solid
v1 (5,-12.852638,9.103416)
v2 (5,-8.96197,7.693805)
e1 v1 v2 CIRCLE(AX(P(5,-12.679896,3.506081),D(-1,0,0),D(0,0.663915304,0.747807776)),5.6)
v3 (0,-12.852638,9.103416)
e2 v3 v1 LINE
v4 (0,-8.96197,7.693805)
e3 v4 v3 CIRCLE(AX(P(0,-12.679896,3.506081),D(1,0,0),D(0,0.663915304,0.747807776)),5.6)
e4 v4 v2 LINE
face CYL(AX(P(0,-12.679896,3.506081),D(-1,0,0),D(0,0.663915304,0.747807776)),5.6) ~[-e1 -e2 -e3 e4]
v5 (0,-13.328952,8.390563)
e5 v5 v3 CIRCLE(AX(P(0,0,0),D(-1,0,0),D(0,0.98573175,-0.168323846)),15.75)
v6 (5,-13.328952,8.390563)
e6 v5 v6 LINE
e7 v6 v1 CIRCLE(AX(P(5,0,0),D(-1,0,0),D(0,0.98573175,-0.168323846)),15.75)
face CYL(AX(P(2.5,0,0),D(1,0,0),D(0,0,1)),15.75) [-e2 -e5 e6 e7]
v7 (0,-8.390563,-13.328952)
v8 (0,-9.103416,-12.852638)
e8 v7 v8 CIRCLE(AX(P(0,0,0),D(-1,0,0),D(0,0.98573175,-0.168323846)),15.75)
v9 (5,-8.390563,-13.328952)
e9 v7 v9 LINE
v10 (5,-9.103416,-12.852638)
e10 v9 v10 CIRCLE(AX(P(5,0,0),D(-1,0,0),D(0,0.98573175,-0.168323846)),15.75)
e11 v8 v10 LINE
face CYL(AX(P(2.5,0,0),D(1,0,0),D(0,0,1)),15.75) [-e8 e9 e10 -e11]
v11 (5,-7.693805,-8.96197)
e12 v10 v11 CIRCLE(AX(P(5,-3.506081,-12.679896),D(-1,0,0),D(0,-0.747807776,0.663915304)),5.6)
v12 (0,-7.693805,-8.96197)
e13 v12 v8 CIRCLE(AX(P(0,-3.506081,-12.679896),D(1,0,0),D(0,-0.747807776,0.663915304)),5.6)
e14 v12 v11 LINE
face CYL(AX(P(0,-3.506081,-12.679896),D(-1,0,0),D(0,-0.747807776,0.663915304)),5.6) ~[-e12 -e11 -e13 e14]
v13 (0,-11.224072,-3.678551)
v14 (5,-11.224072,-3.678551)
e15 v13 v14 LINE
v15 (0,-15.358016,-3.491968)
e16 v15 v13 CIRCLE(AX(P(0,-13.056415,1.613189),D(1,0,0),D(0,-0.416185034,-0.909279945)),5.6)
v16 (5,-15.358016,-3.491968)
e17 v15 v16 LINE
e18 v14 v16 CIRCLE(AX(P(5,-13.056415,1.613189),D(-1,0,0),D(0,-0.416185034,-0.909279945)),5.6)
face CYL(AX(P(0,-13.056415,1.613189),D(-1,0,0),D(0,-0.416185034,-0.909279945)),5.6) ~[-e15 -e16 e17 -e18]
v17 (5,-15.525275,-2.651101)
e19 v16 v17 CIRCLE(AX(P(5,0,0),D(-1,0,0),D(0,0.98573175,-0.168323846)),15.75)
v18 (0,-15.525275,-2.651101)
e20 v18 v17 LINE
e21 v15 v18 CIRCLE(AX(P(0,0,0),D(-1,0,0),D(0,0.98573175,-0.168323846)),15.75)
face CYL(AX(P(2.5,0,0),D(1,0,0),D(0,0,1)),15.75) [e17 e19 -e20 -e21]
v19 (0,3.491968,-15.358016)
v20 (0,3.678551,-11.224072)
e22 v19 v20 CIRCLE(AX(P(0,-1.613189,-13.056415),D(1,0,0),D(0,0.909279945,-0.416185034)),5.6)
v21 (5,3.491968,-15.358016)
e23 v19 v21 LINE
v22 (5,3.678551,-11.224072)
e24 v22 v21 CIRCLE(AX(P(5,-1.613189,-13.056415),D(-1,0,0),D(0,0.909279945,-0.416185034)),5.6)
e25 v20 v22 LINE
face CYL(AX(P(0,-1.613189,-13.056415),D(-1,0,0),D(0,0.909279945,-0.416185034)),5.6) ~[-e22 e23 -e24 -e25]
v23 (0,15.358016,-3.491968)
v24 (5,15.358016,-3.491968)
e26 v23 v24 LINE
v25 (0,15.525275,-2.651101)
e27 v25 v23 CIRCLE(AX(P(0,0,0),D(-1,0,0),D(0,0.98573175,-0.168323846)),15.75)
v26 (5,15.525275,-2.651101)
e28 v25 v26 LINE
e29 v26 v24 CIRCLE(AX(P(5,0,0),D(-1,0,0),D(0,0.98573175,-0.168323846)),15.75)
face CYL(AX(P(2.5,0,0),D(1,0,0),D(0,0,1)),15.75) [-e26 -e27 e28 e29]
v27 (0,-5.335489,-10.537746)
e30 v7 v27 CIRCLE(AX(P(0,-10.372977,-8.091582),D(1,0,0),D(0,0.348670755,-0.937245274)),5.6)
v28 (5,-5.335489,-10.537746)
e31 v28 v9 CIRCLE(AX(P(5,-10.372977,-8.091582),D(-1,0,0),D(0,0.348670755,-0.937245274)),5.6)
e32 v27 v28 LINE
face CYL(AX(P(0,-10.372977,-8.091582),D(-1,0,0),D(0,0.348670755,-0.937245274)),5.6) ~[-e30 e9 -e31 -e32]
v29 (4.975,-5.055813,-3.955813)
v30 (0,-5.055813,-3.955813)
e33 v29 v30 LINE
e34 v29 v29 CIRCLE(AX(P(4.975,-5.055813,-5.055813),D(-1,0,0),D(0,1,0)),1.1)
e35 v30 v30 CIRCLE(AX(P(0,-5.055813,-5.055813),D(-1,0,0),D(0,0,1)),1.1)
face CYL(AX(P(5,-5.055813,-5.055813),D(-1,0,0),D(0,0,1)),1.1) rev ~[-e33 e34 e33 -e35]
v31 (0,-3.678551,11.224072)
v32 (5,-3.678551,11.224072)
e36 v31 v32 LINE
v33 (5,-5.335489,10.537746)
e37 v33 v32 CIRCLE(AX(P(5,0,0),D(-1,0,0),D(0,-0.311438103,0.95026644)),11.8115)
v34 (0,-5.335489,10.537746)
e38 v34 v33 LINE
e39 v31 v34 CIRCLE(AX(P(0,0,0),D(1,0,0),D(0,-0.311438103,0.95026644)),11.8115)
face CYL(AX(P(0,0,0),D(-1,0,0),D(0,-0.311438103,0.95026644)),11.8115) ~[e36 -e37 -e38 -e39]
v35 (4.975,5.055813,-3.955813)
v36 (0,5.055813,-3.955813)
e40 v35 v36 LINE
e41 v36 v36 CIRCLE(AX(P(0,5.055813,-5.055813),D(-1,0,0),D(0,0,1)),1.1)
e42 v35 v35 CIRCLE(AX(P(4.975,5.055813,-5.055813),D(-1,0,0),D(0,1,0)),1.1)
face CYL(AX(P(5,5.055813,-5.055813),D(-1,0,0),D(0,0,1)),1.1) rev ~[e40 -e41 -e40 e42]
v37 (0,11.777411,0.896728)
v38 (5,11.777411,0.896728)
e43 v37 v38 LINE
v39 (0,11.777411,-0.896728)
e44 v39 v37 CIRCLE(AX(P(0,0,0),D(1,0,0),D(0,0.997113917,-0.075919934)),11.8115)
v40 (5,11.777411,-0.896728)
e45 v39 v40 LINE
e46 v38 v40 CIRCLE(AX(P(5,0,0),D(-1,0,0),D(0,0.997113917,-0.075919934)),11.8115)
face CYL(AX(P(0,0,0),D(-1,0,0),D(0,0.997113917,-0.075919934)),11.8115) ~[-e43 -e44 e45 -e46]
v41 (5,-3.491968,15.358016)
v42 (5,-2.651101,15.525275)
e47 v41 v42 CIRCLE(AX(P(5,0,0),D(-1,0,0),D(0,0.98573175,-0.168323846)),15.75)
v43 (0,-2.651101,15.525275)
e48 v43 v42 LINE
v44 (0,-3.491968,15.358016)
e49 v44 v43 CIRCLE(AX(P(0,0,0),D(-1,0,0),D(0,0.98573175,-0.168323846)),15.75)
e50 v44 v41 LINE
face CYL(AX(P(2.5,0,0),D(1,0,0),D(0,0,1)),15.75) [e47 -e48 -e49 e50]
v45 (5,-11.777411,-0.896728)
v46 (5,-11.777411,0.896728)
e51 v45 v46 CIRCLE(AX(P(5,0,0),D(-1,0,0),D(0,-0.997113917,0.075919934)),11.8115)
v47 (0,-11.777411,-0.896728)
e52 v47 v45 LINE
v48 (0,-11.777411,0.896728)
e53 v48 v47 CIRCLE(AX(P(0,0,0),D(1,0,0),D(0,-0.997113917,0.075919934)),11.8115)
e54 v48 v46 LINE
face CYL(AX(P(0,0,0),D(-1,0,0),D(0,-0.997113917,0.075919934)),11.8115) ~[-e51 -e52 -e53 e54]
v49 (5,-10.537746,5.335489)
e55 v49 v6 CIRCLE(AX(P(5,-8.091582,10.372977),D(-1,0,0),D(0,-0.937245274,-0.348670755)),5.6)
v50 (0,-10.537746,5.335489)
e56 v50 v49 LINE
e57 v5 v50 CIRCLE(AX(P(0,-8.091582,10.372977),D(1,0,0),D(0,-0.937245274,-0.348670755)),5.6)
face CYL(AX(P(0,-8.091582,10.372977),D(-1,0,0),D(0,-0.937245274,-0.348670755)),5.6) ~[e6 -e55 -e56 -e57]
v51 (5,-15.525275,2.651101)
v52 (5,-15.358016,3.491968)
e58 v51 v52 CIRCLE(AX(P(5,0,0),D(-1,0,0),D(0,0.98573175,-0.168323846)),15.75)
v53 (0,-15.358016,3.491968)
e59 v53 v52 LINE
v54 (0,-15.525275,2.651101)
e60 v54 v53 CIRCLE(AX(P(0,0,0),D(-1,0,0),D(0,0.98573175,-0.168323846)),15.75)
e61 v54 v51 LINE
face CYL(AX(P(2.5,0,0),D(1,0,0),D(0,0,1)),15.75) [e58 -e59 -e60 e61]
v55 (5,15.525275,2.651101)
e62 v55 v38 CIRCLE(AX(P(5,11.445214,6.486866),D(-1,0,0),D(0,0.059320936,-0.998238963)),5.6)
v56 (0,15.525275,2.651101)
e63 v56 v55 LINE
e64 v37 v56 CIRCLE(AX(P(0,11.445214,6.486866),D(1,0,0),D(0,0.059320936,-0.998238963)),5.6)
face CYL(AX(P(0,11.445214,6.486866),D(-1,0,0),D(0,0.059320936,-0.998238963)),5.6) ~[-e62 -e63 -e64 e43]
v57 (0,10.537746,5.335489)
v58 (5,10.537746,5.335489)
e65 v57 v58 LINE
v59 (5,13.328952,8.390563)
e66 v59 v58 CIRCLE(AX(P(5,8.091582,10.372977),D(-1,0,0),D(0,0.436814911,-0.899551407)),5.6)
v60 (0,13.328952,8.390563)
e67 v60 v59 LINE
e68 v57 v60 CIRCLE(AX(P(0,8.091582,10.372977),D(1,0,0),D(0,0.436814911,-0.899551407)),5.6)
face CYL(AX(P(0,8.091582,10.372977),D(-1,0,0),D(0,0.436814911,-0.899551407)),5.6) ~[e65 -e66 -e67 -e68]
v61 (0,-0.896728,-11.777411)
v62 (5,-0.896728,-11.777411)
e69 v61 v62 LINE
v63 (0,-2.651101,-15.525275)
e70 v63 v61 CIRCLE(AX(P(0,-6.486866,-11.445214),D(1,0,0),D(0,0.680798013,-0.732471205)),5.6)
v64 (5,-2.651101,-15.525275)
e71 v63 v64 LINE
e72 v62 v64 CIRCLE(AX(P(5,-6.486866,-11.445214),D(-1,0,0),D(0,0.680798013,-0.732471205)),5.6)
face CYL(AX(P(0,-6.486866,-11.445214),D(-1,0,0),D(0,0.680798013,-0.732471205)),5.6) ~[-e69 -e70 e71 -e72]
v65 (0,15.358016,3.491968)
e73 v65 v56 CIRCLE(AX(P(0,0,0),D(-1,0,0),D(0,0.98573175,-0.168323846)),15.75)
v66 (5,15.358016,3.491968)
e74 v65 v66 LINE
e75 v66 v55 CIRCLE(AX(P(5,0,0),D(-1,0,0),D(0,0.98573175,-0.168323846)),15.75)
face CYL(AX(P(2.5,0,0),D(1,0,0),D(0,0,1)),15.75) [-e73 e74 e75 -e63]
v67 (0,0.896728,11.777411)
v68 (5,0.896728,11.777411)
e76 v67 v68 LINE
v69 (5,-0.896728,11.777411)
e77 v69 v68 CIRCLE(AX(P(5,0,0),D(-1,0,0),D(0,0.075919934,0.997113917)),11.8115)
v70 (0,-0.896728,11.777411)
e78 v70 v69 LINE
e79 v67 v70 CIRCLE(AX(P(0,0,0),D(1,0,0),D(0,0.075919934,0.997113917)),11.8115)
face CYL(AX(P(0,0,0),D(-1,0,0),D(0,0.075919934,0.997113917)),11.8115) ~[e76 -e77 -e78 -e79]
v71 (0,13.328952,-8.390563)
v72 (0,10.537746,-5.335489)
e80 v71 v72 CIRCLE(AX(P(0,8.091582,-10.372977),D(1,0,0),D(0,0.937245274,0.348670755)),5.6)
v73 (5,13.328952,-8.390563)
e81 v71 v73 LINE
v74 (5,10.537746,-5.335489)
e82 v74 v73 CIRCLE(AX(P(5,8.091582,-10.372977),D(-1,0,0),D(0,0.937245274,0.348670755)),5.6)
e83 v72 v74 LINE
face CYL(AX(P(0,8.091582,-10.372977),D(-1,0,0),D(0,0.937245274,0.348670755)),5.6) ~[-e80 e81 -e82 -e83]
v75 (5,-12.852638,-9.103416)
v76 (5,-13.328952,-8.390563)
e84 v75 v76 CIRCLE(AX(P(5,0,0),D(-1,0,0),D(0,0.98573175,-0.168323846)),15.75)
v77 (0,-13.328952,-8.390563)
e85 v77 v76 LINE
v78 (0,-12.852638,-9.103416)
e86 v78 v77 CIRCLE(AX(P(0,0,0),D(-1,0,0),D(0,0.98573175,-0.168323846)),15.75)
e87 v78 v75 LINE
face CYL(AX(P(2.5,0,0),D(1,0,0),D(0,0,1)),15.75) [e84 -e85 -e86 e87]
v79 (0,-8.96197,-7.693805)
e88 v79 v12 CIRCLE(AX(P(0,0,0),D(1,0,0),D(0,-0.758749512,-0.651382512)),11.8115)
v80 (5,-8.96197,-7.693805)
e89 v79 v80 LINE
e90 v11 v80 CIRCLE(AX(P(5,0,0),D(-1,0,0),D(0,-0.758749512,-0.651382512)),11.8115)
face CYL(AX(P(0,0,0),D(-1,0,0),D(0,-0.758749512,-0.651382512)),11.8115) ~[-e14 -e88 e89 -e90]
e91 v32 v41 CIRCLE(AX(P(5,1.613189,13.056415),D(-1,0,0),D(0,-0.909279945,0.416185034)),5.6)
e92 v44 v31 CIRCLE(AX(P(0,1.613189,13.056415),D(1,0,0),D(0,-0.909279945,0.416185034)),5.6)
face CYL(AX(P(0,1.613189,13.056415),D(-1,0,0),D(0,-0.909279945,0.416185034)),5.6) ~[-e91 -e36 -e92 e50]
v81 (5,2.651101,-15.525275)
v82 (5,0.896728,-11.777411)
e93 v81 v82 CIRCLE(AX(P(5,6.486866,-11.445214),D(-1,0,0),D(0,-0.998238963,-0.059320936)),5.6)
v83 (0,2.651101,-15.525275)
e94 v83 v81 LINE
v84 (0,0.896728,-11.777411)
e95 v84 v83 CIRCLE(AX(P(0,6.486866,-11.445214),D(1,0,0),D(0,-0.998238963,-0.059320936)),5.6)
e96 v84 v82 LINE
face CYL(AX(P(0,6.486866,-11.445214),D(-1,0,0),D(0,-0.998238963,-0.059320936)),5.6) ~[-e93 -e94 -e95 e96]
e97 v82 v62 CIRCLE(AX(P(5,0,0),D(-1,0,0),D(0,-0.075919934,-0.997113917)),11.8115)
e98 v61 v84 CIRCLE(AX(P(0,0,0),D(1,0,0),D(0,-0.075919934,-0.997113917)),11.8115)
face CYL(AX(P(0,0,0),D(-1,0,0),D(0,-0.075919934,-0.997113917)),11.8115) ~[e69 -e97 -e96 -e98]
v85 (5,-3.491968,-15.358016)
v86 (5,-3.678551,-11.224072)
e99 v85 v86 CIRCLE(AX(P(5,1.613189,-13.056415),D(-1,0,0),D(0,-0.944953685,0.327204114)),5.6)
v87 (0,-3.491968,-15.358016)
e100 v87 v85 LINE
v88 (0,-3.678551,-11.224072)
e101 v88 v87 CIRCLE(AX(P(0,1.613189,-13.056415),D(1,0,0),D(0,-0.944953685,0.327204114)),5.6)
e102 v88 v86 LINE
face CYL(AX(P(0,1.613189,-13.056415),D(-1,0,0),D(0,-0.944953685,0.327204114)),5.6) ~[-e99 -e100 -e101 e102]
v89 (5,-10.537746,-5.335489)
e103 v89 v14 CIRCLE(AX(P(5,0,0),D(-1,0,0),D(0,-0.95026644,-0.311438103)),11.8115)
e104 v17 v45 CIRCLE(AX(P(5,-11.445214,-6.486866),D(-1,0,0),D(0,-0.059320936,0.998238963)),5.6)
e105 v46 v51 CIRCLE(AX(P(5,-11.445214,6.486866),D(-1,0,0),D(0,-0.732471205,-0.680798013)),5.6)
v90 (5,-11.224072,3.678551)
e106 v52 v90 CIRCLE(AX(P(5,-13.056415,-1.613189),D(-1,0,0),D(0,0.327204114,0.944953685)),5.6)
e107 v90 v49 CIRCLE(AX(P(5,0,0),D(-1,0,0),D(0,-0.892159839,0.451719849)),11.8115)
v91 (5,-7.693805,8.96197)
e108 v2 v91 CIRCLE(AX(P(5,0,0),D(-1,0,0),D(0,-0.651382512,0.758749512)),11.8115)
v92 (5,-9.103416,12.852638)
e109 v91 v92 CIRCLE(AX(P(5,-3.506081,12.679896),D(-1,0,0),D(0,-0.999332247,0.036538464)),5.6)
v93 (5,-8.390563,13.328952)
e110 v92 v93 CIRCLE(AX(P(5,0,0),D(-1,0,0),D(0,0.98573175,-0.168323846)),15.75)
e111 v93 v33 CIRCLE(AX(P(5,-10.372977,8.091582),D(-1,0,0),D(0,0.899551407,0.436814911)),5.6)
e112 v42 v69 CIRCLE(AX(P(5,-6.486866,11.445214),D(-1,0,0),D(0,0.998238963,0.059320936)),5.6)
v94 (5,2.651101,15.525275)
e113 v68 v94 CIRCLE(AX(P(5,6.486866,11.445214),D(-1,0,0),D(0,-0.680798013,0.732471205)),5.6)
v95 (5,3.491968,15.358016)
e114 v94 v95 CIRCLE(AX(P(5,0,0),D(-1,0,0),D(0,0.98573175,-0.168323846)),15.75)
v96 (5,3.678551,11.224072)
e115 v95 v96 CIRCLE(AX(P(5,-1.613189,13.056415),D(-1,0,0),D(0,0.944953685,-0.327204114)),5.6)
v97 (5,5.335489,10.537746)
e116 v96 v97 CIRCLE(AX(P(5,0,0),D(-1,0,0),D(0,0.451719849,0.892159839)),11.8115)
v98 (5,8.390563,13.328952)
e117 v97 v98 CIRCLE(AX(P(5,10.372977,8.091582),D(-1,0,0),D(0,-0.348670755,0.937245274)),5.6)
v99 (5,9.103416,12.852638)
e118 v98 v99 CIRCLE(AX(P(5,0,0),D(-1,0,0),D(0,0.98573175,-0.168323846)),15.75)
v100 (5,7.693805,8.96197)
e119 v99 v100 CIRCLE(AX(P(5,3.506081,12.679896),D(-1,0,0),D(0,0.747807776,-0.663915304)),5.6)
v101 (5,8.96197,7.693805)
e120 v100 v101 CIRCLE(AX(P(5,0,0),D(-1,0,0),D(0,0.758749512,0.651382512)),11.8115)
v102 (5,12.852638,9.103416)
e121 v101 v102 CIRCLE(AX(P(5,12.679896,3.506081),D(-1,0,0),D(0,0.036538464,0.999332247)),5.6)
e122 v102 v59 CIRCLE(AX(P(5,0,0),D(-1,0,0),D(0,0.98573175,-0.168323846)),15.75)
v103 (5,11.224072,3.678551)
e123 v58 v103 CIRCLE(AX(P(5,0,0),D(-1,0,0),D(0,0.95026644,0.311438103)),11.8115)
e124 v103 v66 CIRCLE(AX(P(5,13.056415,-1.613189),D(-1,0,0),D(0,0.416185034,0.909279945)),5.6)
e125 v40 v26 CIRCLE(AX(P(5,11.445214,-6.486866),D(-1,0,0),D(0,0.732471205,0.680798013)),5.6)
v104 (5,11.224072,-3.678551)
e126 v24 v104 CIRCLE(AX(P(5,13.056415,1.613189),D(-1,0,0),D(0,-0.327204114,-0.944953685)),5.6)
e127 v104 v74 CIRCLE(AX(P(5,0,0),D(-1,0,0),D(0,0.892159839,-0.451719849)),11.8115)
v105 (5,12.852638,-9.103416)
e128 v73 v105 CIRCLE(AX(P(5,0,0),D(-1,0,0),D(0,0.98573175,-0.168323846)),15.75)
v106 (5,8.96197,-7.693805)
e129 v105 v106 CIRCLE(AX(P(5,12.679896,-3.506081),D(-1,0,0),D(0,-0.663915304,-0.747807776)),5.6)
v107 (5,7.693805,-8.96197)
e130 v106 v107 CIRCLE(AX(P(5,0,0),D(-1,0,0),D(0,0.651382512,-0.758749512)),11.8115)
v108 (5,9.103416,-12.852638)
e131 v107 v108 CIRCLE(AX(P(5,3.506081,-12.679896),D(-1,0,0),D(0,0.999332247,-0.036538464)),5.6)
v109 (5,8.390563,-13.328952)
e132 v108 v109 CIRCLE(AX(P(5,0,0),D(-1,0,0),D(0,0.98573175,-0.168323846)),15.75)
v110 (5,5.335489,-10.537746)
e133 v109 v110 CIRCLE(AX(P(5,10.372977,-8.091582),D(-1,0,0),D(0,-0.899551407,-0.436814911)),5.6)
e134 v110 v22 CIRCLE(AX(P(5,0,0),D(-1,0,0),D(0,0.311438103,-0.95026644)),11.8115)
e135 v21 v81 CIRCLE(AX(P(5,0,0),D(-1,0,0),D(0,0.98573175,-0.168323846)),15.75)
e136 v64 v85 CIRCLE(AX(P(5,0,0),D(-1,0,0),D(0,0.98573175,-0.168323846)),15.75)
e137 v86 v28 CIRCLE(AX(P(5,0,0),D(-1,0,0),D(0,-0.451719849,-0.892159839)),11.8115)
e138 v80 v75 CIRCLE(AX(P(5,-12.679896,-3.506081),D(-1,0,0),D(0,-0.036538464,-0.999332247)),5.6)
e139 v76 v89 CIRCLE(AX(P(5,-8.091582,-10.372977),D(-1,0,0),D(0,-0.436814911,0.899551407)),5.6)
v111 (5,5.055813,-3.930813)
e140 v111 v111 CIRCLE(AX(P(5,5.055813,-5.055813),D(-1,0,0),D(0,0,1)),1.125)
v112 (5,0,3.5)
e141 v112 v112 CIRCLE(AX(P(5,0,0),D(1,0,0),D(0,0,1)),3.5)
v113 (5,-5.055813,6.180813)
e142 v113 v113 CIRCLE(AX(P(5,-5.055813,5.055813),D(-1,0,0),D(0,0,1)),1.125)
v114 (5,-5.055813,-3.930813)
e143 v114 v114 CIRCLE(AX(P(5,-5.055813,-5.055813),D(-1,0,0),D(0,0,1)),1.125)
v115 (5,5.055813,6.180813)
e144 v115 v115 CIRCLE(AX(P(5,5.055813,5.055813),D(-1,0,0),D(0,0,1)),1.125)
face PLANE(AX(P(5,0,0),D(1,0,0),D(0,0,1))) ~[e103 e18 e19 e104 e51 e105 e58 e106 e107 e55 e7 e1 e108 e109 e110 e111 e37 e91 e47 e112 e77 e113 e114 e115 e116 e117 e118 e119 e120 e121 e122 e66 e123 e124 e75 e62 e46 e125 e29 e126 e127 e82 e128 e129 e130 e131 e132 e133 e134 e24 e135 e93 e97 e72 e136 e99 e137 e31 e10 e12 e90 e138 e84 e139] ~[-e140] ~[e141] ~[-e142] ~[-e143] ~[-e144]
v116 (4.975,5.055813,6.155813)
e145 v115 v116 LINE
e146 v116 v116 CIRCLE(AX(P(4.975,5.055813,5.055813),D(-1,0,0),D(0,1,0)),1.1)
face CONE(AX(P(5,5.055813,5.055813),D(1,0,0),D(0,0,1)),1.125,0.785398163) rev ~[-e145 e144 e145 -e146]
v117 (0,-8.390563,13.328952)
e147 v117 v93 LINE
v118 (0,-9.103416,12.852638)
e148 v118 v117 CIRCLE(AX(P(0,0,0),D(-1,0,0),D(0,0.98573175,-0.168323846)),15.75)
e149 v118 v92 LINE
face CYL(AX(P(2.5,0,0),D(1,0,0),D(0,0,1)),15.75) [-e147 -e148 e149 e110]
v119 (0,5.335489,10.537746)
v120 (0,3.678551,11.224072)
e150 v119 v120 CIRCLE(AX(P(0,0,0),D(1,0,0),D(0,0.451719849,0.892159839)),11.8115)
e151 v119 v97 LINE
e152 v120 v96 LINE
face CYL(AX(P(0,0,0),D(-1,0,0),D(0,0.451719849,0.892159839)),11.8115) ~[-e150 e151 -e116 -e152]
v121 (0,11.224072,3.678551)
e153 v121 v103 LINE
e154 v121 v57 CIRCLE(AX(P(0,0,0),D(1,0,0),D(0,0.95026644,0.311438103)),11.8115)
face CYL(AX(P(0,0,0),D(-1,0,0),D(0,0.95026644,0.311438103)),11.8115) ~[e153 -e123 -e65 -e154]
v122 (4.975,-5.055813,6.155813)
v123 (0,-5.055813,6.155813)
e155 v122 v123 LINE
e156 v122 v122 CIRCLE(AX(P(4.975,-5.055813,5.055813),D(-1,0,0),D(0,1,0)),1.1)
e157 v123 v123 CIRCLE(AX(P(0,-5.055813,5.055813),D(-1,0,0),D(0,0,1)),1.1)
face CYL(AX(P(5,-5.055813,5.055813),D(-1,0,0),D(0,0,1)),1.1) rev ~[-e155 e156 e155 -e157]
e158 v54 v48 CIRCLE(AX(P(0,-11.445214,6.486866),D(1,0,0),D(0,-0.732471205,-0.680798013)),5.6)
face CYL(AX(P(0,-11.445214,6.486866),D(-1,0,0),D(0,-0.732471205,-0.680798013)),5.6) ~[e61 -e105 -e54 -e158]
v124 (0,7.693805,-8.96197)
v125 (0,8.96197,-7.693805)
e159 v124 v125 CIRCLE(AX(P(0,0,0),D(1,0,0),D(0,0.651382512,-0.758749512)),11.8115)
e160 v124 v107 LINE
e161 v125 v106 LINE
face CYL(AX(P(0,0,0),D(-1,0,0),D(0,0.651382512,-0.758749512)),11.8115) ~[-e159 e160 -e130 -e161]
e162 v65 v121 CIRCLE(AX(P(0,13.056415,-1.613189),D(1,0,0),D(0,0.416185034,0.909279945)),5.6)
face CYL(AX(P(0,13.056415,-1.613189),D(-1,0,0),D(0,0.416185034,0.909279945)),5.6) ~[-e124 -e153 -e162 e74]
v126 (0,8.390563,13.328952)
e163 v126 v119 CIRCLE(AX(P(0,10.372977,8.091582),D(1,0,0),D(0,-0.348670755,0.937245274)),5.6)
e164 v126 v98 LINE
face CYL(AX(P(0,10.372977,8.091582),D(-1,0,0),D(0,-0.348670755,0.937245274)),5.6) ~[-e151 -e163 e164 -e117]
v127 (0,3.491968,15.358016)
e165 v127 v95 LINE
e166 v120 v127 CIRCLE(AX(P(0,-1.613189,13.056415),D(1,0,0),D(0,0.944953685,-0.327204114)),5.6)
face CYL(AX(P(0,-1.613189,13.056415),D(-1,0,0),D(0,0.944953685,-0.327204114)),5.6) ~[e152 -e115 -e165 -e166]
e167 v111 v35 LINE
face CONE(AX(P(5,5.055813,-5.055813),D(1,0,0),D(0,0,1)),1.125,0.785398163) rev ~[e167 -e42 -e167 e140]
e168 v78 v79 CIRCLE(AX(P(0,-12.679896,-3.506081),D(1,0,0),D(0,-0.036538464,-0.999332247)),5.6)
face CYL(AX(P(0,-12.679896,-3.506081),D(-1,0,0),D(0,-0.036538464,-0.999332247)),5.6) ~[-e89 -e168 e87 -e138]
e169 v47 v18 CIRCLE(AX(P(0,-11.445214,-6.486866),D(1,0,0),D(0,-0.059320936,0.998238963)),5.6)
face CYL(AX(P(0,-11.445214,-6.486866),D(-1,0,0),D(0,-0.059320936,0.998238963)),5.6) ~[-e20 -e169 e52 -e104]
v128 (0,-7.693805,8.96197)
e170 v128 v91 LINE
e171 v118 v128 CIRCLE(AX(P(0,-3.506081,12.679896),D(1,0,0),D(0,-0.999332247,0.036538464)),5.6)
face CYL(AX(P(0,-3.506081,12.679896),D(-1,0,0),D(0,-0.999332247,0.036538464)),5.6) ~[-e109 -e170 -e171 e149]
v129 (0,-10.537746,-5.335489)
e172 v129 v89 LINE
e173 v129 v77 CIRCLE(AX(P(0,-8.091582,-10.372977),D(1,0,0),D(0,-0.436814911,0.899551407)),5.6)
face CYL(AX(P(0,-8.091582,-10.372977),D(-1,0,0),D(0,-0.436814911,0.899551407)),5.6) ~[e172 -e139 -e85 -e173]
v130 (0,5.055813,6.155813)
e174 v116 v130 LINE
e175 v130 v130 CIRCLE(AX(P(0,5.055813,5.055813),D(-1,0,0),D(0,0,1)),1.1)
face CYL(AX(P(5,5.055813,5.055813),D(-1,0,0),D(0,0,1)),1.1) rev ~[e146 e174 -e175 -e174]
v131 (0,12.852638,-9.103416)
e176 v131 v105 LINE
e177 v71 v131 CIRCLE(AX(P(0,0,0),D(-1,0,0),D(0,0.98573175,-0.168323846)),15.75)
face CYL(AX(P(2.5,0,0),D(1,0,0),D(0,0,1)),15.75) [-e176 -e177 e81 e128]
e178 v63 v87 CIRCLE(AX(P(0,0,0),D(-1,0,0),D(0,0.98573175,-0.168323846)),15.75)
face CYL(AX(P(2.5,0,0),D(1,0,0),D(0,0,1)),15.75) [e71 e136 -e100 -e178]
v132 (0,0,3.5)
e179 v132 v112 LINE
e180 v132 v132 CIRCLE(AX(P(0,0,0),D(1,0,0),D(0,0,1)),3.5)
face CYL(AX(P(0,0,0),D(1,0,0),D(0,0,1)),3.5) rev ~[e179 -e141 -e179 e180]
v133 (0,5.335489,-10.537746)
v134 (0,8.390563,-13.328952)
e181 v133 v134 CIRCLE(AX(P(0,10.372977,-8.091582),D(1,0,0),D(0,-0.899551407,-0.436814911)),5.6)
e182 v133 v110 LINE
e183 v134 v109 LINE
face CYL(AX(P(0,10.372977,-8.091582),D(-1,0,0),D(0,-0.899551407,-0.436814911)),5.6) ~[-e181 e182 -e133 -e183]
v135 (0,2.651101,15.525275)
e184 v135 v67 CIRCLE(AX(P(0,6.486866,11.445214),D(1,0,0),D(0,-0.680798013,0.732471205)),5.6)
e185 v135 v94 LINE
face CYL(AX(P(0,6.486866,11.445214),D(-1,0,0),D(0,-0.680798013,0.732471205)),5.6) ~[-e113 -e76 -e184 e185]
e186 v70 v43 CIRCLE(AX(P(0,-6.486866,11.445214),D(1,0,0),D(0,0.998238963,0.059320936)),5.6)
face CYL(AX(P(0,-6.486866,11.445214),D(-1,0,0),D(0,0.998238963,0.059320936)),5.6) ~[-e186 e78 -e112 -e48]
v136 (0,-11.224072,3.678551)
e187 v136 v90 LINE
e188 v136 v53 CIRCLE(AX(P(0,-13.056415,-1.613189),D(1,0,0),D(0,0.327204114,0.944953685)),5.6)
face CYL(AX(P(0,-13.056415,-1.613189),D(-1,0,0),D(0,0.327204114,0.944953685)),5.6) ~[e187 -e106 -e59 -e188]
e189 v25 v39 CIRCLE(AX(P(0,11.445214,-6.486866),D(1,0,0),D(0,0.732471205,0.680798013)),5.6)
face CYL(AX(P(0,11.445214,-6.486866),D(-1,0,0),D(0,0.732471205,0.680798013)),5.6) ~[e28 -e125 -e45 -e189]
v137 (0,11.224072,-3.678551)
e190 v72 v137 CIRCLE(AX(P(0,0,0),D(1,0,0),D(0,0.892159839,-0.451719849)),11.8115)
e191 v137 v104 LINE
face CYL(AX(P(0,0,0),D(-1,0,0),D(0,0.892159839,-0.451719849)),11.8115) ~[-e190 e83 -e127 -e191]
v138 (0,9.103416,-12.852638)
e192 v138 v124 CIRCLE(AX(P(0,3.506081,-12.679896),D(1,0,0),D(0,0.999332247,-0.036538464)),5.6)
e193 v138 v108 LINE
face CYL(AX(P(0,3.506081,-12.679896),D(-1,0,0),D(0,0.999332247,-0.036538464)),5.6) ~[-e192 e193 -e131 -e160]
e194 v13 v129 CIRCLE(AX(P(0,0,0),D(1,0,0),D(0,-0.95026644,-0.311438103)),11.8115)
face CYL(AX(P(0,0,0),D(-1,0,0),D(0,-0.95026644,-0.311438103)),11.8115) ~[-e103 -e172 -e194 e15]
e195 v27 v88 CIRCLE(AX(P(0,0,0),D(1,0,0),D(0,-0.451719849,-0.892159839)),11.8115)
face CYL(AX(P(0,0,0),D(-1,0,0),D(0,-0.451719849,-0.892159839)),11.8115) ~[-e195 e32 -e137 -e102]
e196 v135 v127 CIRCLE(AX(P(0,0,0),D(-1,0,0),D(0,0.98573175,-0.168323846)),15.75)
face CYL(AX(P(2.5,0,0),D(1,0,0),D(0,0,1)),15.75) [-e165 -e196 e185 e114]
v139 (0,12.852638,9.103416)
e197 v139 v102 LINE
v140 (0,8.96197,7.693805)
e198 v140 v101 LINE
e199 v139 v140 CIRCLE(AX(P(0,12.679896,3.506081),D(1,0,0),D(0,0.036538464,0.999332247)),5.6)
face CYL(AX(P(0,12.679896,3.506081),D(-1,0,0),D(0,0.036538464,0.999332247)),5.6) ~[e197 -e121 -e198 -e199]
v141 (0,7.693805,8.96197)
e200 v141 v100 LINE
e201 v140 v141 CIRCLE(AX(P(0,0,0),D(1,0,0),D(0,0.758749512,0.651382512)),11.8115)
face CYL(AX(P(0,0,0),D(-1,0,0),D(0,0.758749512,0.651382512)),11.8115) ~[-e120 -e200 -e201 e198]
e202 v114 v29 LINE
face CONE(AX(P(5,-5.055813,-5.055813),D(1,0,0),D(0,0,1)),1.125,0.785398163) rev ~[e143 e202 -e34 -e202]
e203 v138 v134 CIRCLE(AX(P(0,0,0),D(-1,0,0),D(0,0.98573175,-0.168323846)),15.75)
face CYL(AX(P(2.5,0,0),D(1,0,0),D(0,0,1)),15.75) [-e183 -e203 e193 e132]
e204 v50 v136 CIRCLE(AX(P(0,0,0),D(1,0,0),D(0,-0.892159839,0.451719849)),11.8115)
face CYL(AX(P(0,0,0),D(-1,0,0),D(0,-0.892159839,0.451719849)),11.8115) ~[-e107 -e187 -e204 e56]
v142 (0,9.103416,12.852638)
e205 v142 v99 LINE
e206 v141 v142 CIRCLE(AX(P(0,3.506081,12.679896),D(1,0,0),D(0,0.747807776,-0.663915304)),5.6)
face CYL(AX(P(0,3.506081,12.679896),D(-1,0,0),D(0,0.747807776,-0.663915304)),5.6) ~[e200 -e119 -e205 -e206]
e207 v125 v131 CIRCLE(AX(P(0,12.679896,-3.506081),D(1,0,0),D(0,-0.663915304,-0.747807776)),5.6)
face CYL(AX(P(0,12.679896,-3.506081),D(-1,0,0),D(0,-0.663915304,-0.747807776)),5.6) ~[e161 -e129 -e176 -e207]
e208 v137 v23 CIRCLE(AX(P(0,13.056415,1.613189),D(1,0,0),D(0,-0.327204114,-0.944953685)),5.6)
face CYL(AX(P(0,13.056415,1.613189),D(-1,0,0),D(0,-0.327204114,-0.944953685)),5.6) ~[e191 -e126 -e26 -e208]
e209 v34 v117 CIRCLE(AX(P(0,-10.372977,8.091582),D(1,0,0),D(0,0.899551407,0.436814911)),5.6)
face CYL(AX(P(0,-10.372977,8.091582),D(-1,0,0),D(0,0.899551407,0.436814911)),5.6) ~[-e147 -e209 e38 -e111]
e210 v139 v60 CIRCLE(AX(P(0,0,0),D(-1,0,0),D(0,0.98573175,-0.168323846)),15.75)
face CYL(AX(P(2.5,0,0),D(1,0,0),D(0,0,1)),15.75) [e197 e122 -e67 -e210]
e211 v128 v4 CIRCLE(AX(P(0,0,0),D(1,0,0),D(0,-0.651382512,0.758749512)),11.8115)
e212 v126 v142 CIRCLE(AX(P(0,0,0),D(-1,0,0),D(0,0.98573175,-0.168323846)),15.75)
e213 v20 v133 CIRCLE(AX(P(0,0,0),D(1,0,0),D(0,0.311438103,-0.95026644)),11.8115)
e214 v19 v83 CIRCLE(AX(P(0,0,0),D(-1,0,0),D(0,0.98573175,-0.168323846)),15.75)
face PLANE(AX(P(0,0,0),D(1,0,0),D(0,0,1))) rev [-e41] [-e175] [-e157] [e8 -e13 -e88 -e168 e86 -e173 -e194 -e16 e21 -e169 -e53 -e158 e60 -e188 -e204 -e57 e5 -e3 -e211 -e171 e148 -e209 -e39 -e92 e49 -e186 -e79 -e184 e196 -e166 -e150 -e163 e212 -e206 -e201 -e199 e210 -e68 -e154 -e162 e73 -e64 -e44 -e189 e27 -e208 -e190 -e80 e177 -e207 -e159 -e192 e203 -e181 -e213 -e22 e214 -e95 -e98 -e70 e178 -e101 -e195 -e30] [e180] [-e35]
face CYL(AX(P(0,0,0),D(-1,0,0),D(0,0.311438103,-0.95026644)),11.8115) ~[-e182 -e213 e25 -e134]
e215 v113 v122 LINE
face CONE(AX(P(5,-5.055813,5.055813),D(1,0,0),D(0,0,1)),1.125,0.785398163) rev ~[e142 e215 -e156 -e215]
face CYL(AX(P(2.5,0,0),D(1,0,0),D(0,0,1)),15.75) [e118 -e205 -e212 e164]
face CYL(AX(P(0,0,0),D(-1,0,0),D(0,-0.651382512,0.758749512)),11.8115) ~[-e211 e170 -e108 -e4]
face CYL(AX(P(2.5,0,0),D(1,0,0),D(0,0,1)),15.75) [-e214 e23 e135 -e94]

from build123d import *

# Parameters (mm, degrees)
BASPROSKE_W                    = 5
BASPROSKE_H                    = 15.75
TOOTHCUT_DEPTH                 = 23.828162432
TEETHCUTS_COUNT                = 16
TEETHCUTS_ANGLE                = 337.5
BORSKE_R                       = 3.5
BORE_DEPTH                     = 50.0000508
M2_CLEARANCE_HOLE1_D           = 2.2
M2_CLEARANCE_HOLE1_CSINK_D     = 2.25
M2_CLEARANCE_HOLE1_CSINK_ANGLE = 90


with BuildPart() as part:
    # BasProSke → Base-Revolve (revolve)
    with BuildSketch(Plane(origin=(0, 0, 0), x_dir=(1, 0, 0), z_dir=(0, 1, 0)), mode=Mode.PRIVATE) as base_revolve_sk:
        with Locations((2.5, 7.875)):
            Rectangle(BASPROSKE_W, BASPROSKE_H)
    revolve(base_revolve_sk.sketch.rotate(Axis((-10, 0, 0), (1, 0, 0)), 180), axis=Axis((-10, 0, 0), (1, 0, 0)))

    # TooCutSke → ToothCut (cut, through all)
    with BuildSketch(Plane(origin=(0, 0, 0), x_dir=(0, 0, -1), z_dir=(1, 0, 0))):
        with BuildLine():
            ThreePointArc((0.896728289, 11.777411032), (0, 11.8115), (-0.896728289, 11.777411032))
            ThreePointArc((-0.896728289, 11.777411032), (-1.421809307, 13.833768969), (-2.674397607, 15.547052537))
            ThreePointArc((-2.674397607, 15.547052537), (0, 15.7754), (2.674397607, 15.547052537))
            ThreePointArc((2.674397607, 15.547052537), (1.421809307, 13.833768969), (0.896728289, 11.777411032))
        make_face()
    toothcut = extrude(amount=TOOTHCUT_DEPTH, mode=Mode.SUBTRACT)

    # TeethCuts: ToothCut ×16 about axis
    teethcuts_axis = Axis((-10, 0, 0), (1, 0, 0))
    for i in range(1, TEETHCUTS_COUNT):
        add(toothcut.rotate(teethcuts_axis, i * TEETHCUTS_ANGLE / (TEETHCUTS_COUNT - 1)), mode=Mode.SUBTRACT)

    # BorSke → Bore (cut, symmetric)
    with BuildSketch(Plane(origin=(0, 0, 0), x_dir=(0, 0, -1), z_dir=(1, 0, 0))):
        with Locations(Location((0, 0, 0), (0, 0, 180))):
            Circle(BORSKE_R)
    extrude(amount=BORE_DEPTH, both=True, mode=Mode.SUBTRACT)

    # M2 Clearance Hole1 (through all)
    with Locations(Plane(origin=(5, 0, 0), x_dir=(0, 0, -1), z_dir=(1, 0, 0))):
        with Locations((-5.055813485, 5.055813485), (5.055813485, 5.055813485), (5.055813485, -5.055813485), (-5.055813485, -5.055813485)):
            CounterSinkHole(M2_CLEARANCE_HOLE1_D / 2, M2_CLEARANCE_HOLE1_CSINK_D / 2, counter_sink_angle=M2_CLEARANCE_HOLE1_CSINK_ANGLE)


solid = part.part
